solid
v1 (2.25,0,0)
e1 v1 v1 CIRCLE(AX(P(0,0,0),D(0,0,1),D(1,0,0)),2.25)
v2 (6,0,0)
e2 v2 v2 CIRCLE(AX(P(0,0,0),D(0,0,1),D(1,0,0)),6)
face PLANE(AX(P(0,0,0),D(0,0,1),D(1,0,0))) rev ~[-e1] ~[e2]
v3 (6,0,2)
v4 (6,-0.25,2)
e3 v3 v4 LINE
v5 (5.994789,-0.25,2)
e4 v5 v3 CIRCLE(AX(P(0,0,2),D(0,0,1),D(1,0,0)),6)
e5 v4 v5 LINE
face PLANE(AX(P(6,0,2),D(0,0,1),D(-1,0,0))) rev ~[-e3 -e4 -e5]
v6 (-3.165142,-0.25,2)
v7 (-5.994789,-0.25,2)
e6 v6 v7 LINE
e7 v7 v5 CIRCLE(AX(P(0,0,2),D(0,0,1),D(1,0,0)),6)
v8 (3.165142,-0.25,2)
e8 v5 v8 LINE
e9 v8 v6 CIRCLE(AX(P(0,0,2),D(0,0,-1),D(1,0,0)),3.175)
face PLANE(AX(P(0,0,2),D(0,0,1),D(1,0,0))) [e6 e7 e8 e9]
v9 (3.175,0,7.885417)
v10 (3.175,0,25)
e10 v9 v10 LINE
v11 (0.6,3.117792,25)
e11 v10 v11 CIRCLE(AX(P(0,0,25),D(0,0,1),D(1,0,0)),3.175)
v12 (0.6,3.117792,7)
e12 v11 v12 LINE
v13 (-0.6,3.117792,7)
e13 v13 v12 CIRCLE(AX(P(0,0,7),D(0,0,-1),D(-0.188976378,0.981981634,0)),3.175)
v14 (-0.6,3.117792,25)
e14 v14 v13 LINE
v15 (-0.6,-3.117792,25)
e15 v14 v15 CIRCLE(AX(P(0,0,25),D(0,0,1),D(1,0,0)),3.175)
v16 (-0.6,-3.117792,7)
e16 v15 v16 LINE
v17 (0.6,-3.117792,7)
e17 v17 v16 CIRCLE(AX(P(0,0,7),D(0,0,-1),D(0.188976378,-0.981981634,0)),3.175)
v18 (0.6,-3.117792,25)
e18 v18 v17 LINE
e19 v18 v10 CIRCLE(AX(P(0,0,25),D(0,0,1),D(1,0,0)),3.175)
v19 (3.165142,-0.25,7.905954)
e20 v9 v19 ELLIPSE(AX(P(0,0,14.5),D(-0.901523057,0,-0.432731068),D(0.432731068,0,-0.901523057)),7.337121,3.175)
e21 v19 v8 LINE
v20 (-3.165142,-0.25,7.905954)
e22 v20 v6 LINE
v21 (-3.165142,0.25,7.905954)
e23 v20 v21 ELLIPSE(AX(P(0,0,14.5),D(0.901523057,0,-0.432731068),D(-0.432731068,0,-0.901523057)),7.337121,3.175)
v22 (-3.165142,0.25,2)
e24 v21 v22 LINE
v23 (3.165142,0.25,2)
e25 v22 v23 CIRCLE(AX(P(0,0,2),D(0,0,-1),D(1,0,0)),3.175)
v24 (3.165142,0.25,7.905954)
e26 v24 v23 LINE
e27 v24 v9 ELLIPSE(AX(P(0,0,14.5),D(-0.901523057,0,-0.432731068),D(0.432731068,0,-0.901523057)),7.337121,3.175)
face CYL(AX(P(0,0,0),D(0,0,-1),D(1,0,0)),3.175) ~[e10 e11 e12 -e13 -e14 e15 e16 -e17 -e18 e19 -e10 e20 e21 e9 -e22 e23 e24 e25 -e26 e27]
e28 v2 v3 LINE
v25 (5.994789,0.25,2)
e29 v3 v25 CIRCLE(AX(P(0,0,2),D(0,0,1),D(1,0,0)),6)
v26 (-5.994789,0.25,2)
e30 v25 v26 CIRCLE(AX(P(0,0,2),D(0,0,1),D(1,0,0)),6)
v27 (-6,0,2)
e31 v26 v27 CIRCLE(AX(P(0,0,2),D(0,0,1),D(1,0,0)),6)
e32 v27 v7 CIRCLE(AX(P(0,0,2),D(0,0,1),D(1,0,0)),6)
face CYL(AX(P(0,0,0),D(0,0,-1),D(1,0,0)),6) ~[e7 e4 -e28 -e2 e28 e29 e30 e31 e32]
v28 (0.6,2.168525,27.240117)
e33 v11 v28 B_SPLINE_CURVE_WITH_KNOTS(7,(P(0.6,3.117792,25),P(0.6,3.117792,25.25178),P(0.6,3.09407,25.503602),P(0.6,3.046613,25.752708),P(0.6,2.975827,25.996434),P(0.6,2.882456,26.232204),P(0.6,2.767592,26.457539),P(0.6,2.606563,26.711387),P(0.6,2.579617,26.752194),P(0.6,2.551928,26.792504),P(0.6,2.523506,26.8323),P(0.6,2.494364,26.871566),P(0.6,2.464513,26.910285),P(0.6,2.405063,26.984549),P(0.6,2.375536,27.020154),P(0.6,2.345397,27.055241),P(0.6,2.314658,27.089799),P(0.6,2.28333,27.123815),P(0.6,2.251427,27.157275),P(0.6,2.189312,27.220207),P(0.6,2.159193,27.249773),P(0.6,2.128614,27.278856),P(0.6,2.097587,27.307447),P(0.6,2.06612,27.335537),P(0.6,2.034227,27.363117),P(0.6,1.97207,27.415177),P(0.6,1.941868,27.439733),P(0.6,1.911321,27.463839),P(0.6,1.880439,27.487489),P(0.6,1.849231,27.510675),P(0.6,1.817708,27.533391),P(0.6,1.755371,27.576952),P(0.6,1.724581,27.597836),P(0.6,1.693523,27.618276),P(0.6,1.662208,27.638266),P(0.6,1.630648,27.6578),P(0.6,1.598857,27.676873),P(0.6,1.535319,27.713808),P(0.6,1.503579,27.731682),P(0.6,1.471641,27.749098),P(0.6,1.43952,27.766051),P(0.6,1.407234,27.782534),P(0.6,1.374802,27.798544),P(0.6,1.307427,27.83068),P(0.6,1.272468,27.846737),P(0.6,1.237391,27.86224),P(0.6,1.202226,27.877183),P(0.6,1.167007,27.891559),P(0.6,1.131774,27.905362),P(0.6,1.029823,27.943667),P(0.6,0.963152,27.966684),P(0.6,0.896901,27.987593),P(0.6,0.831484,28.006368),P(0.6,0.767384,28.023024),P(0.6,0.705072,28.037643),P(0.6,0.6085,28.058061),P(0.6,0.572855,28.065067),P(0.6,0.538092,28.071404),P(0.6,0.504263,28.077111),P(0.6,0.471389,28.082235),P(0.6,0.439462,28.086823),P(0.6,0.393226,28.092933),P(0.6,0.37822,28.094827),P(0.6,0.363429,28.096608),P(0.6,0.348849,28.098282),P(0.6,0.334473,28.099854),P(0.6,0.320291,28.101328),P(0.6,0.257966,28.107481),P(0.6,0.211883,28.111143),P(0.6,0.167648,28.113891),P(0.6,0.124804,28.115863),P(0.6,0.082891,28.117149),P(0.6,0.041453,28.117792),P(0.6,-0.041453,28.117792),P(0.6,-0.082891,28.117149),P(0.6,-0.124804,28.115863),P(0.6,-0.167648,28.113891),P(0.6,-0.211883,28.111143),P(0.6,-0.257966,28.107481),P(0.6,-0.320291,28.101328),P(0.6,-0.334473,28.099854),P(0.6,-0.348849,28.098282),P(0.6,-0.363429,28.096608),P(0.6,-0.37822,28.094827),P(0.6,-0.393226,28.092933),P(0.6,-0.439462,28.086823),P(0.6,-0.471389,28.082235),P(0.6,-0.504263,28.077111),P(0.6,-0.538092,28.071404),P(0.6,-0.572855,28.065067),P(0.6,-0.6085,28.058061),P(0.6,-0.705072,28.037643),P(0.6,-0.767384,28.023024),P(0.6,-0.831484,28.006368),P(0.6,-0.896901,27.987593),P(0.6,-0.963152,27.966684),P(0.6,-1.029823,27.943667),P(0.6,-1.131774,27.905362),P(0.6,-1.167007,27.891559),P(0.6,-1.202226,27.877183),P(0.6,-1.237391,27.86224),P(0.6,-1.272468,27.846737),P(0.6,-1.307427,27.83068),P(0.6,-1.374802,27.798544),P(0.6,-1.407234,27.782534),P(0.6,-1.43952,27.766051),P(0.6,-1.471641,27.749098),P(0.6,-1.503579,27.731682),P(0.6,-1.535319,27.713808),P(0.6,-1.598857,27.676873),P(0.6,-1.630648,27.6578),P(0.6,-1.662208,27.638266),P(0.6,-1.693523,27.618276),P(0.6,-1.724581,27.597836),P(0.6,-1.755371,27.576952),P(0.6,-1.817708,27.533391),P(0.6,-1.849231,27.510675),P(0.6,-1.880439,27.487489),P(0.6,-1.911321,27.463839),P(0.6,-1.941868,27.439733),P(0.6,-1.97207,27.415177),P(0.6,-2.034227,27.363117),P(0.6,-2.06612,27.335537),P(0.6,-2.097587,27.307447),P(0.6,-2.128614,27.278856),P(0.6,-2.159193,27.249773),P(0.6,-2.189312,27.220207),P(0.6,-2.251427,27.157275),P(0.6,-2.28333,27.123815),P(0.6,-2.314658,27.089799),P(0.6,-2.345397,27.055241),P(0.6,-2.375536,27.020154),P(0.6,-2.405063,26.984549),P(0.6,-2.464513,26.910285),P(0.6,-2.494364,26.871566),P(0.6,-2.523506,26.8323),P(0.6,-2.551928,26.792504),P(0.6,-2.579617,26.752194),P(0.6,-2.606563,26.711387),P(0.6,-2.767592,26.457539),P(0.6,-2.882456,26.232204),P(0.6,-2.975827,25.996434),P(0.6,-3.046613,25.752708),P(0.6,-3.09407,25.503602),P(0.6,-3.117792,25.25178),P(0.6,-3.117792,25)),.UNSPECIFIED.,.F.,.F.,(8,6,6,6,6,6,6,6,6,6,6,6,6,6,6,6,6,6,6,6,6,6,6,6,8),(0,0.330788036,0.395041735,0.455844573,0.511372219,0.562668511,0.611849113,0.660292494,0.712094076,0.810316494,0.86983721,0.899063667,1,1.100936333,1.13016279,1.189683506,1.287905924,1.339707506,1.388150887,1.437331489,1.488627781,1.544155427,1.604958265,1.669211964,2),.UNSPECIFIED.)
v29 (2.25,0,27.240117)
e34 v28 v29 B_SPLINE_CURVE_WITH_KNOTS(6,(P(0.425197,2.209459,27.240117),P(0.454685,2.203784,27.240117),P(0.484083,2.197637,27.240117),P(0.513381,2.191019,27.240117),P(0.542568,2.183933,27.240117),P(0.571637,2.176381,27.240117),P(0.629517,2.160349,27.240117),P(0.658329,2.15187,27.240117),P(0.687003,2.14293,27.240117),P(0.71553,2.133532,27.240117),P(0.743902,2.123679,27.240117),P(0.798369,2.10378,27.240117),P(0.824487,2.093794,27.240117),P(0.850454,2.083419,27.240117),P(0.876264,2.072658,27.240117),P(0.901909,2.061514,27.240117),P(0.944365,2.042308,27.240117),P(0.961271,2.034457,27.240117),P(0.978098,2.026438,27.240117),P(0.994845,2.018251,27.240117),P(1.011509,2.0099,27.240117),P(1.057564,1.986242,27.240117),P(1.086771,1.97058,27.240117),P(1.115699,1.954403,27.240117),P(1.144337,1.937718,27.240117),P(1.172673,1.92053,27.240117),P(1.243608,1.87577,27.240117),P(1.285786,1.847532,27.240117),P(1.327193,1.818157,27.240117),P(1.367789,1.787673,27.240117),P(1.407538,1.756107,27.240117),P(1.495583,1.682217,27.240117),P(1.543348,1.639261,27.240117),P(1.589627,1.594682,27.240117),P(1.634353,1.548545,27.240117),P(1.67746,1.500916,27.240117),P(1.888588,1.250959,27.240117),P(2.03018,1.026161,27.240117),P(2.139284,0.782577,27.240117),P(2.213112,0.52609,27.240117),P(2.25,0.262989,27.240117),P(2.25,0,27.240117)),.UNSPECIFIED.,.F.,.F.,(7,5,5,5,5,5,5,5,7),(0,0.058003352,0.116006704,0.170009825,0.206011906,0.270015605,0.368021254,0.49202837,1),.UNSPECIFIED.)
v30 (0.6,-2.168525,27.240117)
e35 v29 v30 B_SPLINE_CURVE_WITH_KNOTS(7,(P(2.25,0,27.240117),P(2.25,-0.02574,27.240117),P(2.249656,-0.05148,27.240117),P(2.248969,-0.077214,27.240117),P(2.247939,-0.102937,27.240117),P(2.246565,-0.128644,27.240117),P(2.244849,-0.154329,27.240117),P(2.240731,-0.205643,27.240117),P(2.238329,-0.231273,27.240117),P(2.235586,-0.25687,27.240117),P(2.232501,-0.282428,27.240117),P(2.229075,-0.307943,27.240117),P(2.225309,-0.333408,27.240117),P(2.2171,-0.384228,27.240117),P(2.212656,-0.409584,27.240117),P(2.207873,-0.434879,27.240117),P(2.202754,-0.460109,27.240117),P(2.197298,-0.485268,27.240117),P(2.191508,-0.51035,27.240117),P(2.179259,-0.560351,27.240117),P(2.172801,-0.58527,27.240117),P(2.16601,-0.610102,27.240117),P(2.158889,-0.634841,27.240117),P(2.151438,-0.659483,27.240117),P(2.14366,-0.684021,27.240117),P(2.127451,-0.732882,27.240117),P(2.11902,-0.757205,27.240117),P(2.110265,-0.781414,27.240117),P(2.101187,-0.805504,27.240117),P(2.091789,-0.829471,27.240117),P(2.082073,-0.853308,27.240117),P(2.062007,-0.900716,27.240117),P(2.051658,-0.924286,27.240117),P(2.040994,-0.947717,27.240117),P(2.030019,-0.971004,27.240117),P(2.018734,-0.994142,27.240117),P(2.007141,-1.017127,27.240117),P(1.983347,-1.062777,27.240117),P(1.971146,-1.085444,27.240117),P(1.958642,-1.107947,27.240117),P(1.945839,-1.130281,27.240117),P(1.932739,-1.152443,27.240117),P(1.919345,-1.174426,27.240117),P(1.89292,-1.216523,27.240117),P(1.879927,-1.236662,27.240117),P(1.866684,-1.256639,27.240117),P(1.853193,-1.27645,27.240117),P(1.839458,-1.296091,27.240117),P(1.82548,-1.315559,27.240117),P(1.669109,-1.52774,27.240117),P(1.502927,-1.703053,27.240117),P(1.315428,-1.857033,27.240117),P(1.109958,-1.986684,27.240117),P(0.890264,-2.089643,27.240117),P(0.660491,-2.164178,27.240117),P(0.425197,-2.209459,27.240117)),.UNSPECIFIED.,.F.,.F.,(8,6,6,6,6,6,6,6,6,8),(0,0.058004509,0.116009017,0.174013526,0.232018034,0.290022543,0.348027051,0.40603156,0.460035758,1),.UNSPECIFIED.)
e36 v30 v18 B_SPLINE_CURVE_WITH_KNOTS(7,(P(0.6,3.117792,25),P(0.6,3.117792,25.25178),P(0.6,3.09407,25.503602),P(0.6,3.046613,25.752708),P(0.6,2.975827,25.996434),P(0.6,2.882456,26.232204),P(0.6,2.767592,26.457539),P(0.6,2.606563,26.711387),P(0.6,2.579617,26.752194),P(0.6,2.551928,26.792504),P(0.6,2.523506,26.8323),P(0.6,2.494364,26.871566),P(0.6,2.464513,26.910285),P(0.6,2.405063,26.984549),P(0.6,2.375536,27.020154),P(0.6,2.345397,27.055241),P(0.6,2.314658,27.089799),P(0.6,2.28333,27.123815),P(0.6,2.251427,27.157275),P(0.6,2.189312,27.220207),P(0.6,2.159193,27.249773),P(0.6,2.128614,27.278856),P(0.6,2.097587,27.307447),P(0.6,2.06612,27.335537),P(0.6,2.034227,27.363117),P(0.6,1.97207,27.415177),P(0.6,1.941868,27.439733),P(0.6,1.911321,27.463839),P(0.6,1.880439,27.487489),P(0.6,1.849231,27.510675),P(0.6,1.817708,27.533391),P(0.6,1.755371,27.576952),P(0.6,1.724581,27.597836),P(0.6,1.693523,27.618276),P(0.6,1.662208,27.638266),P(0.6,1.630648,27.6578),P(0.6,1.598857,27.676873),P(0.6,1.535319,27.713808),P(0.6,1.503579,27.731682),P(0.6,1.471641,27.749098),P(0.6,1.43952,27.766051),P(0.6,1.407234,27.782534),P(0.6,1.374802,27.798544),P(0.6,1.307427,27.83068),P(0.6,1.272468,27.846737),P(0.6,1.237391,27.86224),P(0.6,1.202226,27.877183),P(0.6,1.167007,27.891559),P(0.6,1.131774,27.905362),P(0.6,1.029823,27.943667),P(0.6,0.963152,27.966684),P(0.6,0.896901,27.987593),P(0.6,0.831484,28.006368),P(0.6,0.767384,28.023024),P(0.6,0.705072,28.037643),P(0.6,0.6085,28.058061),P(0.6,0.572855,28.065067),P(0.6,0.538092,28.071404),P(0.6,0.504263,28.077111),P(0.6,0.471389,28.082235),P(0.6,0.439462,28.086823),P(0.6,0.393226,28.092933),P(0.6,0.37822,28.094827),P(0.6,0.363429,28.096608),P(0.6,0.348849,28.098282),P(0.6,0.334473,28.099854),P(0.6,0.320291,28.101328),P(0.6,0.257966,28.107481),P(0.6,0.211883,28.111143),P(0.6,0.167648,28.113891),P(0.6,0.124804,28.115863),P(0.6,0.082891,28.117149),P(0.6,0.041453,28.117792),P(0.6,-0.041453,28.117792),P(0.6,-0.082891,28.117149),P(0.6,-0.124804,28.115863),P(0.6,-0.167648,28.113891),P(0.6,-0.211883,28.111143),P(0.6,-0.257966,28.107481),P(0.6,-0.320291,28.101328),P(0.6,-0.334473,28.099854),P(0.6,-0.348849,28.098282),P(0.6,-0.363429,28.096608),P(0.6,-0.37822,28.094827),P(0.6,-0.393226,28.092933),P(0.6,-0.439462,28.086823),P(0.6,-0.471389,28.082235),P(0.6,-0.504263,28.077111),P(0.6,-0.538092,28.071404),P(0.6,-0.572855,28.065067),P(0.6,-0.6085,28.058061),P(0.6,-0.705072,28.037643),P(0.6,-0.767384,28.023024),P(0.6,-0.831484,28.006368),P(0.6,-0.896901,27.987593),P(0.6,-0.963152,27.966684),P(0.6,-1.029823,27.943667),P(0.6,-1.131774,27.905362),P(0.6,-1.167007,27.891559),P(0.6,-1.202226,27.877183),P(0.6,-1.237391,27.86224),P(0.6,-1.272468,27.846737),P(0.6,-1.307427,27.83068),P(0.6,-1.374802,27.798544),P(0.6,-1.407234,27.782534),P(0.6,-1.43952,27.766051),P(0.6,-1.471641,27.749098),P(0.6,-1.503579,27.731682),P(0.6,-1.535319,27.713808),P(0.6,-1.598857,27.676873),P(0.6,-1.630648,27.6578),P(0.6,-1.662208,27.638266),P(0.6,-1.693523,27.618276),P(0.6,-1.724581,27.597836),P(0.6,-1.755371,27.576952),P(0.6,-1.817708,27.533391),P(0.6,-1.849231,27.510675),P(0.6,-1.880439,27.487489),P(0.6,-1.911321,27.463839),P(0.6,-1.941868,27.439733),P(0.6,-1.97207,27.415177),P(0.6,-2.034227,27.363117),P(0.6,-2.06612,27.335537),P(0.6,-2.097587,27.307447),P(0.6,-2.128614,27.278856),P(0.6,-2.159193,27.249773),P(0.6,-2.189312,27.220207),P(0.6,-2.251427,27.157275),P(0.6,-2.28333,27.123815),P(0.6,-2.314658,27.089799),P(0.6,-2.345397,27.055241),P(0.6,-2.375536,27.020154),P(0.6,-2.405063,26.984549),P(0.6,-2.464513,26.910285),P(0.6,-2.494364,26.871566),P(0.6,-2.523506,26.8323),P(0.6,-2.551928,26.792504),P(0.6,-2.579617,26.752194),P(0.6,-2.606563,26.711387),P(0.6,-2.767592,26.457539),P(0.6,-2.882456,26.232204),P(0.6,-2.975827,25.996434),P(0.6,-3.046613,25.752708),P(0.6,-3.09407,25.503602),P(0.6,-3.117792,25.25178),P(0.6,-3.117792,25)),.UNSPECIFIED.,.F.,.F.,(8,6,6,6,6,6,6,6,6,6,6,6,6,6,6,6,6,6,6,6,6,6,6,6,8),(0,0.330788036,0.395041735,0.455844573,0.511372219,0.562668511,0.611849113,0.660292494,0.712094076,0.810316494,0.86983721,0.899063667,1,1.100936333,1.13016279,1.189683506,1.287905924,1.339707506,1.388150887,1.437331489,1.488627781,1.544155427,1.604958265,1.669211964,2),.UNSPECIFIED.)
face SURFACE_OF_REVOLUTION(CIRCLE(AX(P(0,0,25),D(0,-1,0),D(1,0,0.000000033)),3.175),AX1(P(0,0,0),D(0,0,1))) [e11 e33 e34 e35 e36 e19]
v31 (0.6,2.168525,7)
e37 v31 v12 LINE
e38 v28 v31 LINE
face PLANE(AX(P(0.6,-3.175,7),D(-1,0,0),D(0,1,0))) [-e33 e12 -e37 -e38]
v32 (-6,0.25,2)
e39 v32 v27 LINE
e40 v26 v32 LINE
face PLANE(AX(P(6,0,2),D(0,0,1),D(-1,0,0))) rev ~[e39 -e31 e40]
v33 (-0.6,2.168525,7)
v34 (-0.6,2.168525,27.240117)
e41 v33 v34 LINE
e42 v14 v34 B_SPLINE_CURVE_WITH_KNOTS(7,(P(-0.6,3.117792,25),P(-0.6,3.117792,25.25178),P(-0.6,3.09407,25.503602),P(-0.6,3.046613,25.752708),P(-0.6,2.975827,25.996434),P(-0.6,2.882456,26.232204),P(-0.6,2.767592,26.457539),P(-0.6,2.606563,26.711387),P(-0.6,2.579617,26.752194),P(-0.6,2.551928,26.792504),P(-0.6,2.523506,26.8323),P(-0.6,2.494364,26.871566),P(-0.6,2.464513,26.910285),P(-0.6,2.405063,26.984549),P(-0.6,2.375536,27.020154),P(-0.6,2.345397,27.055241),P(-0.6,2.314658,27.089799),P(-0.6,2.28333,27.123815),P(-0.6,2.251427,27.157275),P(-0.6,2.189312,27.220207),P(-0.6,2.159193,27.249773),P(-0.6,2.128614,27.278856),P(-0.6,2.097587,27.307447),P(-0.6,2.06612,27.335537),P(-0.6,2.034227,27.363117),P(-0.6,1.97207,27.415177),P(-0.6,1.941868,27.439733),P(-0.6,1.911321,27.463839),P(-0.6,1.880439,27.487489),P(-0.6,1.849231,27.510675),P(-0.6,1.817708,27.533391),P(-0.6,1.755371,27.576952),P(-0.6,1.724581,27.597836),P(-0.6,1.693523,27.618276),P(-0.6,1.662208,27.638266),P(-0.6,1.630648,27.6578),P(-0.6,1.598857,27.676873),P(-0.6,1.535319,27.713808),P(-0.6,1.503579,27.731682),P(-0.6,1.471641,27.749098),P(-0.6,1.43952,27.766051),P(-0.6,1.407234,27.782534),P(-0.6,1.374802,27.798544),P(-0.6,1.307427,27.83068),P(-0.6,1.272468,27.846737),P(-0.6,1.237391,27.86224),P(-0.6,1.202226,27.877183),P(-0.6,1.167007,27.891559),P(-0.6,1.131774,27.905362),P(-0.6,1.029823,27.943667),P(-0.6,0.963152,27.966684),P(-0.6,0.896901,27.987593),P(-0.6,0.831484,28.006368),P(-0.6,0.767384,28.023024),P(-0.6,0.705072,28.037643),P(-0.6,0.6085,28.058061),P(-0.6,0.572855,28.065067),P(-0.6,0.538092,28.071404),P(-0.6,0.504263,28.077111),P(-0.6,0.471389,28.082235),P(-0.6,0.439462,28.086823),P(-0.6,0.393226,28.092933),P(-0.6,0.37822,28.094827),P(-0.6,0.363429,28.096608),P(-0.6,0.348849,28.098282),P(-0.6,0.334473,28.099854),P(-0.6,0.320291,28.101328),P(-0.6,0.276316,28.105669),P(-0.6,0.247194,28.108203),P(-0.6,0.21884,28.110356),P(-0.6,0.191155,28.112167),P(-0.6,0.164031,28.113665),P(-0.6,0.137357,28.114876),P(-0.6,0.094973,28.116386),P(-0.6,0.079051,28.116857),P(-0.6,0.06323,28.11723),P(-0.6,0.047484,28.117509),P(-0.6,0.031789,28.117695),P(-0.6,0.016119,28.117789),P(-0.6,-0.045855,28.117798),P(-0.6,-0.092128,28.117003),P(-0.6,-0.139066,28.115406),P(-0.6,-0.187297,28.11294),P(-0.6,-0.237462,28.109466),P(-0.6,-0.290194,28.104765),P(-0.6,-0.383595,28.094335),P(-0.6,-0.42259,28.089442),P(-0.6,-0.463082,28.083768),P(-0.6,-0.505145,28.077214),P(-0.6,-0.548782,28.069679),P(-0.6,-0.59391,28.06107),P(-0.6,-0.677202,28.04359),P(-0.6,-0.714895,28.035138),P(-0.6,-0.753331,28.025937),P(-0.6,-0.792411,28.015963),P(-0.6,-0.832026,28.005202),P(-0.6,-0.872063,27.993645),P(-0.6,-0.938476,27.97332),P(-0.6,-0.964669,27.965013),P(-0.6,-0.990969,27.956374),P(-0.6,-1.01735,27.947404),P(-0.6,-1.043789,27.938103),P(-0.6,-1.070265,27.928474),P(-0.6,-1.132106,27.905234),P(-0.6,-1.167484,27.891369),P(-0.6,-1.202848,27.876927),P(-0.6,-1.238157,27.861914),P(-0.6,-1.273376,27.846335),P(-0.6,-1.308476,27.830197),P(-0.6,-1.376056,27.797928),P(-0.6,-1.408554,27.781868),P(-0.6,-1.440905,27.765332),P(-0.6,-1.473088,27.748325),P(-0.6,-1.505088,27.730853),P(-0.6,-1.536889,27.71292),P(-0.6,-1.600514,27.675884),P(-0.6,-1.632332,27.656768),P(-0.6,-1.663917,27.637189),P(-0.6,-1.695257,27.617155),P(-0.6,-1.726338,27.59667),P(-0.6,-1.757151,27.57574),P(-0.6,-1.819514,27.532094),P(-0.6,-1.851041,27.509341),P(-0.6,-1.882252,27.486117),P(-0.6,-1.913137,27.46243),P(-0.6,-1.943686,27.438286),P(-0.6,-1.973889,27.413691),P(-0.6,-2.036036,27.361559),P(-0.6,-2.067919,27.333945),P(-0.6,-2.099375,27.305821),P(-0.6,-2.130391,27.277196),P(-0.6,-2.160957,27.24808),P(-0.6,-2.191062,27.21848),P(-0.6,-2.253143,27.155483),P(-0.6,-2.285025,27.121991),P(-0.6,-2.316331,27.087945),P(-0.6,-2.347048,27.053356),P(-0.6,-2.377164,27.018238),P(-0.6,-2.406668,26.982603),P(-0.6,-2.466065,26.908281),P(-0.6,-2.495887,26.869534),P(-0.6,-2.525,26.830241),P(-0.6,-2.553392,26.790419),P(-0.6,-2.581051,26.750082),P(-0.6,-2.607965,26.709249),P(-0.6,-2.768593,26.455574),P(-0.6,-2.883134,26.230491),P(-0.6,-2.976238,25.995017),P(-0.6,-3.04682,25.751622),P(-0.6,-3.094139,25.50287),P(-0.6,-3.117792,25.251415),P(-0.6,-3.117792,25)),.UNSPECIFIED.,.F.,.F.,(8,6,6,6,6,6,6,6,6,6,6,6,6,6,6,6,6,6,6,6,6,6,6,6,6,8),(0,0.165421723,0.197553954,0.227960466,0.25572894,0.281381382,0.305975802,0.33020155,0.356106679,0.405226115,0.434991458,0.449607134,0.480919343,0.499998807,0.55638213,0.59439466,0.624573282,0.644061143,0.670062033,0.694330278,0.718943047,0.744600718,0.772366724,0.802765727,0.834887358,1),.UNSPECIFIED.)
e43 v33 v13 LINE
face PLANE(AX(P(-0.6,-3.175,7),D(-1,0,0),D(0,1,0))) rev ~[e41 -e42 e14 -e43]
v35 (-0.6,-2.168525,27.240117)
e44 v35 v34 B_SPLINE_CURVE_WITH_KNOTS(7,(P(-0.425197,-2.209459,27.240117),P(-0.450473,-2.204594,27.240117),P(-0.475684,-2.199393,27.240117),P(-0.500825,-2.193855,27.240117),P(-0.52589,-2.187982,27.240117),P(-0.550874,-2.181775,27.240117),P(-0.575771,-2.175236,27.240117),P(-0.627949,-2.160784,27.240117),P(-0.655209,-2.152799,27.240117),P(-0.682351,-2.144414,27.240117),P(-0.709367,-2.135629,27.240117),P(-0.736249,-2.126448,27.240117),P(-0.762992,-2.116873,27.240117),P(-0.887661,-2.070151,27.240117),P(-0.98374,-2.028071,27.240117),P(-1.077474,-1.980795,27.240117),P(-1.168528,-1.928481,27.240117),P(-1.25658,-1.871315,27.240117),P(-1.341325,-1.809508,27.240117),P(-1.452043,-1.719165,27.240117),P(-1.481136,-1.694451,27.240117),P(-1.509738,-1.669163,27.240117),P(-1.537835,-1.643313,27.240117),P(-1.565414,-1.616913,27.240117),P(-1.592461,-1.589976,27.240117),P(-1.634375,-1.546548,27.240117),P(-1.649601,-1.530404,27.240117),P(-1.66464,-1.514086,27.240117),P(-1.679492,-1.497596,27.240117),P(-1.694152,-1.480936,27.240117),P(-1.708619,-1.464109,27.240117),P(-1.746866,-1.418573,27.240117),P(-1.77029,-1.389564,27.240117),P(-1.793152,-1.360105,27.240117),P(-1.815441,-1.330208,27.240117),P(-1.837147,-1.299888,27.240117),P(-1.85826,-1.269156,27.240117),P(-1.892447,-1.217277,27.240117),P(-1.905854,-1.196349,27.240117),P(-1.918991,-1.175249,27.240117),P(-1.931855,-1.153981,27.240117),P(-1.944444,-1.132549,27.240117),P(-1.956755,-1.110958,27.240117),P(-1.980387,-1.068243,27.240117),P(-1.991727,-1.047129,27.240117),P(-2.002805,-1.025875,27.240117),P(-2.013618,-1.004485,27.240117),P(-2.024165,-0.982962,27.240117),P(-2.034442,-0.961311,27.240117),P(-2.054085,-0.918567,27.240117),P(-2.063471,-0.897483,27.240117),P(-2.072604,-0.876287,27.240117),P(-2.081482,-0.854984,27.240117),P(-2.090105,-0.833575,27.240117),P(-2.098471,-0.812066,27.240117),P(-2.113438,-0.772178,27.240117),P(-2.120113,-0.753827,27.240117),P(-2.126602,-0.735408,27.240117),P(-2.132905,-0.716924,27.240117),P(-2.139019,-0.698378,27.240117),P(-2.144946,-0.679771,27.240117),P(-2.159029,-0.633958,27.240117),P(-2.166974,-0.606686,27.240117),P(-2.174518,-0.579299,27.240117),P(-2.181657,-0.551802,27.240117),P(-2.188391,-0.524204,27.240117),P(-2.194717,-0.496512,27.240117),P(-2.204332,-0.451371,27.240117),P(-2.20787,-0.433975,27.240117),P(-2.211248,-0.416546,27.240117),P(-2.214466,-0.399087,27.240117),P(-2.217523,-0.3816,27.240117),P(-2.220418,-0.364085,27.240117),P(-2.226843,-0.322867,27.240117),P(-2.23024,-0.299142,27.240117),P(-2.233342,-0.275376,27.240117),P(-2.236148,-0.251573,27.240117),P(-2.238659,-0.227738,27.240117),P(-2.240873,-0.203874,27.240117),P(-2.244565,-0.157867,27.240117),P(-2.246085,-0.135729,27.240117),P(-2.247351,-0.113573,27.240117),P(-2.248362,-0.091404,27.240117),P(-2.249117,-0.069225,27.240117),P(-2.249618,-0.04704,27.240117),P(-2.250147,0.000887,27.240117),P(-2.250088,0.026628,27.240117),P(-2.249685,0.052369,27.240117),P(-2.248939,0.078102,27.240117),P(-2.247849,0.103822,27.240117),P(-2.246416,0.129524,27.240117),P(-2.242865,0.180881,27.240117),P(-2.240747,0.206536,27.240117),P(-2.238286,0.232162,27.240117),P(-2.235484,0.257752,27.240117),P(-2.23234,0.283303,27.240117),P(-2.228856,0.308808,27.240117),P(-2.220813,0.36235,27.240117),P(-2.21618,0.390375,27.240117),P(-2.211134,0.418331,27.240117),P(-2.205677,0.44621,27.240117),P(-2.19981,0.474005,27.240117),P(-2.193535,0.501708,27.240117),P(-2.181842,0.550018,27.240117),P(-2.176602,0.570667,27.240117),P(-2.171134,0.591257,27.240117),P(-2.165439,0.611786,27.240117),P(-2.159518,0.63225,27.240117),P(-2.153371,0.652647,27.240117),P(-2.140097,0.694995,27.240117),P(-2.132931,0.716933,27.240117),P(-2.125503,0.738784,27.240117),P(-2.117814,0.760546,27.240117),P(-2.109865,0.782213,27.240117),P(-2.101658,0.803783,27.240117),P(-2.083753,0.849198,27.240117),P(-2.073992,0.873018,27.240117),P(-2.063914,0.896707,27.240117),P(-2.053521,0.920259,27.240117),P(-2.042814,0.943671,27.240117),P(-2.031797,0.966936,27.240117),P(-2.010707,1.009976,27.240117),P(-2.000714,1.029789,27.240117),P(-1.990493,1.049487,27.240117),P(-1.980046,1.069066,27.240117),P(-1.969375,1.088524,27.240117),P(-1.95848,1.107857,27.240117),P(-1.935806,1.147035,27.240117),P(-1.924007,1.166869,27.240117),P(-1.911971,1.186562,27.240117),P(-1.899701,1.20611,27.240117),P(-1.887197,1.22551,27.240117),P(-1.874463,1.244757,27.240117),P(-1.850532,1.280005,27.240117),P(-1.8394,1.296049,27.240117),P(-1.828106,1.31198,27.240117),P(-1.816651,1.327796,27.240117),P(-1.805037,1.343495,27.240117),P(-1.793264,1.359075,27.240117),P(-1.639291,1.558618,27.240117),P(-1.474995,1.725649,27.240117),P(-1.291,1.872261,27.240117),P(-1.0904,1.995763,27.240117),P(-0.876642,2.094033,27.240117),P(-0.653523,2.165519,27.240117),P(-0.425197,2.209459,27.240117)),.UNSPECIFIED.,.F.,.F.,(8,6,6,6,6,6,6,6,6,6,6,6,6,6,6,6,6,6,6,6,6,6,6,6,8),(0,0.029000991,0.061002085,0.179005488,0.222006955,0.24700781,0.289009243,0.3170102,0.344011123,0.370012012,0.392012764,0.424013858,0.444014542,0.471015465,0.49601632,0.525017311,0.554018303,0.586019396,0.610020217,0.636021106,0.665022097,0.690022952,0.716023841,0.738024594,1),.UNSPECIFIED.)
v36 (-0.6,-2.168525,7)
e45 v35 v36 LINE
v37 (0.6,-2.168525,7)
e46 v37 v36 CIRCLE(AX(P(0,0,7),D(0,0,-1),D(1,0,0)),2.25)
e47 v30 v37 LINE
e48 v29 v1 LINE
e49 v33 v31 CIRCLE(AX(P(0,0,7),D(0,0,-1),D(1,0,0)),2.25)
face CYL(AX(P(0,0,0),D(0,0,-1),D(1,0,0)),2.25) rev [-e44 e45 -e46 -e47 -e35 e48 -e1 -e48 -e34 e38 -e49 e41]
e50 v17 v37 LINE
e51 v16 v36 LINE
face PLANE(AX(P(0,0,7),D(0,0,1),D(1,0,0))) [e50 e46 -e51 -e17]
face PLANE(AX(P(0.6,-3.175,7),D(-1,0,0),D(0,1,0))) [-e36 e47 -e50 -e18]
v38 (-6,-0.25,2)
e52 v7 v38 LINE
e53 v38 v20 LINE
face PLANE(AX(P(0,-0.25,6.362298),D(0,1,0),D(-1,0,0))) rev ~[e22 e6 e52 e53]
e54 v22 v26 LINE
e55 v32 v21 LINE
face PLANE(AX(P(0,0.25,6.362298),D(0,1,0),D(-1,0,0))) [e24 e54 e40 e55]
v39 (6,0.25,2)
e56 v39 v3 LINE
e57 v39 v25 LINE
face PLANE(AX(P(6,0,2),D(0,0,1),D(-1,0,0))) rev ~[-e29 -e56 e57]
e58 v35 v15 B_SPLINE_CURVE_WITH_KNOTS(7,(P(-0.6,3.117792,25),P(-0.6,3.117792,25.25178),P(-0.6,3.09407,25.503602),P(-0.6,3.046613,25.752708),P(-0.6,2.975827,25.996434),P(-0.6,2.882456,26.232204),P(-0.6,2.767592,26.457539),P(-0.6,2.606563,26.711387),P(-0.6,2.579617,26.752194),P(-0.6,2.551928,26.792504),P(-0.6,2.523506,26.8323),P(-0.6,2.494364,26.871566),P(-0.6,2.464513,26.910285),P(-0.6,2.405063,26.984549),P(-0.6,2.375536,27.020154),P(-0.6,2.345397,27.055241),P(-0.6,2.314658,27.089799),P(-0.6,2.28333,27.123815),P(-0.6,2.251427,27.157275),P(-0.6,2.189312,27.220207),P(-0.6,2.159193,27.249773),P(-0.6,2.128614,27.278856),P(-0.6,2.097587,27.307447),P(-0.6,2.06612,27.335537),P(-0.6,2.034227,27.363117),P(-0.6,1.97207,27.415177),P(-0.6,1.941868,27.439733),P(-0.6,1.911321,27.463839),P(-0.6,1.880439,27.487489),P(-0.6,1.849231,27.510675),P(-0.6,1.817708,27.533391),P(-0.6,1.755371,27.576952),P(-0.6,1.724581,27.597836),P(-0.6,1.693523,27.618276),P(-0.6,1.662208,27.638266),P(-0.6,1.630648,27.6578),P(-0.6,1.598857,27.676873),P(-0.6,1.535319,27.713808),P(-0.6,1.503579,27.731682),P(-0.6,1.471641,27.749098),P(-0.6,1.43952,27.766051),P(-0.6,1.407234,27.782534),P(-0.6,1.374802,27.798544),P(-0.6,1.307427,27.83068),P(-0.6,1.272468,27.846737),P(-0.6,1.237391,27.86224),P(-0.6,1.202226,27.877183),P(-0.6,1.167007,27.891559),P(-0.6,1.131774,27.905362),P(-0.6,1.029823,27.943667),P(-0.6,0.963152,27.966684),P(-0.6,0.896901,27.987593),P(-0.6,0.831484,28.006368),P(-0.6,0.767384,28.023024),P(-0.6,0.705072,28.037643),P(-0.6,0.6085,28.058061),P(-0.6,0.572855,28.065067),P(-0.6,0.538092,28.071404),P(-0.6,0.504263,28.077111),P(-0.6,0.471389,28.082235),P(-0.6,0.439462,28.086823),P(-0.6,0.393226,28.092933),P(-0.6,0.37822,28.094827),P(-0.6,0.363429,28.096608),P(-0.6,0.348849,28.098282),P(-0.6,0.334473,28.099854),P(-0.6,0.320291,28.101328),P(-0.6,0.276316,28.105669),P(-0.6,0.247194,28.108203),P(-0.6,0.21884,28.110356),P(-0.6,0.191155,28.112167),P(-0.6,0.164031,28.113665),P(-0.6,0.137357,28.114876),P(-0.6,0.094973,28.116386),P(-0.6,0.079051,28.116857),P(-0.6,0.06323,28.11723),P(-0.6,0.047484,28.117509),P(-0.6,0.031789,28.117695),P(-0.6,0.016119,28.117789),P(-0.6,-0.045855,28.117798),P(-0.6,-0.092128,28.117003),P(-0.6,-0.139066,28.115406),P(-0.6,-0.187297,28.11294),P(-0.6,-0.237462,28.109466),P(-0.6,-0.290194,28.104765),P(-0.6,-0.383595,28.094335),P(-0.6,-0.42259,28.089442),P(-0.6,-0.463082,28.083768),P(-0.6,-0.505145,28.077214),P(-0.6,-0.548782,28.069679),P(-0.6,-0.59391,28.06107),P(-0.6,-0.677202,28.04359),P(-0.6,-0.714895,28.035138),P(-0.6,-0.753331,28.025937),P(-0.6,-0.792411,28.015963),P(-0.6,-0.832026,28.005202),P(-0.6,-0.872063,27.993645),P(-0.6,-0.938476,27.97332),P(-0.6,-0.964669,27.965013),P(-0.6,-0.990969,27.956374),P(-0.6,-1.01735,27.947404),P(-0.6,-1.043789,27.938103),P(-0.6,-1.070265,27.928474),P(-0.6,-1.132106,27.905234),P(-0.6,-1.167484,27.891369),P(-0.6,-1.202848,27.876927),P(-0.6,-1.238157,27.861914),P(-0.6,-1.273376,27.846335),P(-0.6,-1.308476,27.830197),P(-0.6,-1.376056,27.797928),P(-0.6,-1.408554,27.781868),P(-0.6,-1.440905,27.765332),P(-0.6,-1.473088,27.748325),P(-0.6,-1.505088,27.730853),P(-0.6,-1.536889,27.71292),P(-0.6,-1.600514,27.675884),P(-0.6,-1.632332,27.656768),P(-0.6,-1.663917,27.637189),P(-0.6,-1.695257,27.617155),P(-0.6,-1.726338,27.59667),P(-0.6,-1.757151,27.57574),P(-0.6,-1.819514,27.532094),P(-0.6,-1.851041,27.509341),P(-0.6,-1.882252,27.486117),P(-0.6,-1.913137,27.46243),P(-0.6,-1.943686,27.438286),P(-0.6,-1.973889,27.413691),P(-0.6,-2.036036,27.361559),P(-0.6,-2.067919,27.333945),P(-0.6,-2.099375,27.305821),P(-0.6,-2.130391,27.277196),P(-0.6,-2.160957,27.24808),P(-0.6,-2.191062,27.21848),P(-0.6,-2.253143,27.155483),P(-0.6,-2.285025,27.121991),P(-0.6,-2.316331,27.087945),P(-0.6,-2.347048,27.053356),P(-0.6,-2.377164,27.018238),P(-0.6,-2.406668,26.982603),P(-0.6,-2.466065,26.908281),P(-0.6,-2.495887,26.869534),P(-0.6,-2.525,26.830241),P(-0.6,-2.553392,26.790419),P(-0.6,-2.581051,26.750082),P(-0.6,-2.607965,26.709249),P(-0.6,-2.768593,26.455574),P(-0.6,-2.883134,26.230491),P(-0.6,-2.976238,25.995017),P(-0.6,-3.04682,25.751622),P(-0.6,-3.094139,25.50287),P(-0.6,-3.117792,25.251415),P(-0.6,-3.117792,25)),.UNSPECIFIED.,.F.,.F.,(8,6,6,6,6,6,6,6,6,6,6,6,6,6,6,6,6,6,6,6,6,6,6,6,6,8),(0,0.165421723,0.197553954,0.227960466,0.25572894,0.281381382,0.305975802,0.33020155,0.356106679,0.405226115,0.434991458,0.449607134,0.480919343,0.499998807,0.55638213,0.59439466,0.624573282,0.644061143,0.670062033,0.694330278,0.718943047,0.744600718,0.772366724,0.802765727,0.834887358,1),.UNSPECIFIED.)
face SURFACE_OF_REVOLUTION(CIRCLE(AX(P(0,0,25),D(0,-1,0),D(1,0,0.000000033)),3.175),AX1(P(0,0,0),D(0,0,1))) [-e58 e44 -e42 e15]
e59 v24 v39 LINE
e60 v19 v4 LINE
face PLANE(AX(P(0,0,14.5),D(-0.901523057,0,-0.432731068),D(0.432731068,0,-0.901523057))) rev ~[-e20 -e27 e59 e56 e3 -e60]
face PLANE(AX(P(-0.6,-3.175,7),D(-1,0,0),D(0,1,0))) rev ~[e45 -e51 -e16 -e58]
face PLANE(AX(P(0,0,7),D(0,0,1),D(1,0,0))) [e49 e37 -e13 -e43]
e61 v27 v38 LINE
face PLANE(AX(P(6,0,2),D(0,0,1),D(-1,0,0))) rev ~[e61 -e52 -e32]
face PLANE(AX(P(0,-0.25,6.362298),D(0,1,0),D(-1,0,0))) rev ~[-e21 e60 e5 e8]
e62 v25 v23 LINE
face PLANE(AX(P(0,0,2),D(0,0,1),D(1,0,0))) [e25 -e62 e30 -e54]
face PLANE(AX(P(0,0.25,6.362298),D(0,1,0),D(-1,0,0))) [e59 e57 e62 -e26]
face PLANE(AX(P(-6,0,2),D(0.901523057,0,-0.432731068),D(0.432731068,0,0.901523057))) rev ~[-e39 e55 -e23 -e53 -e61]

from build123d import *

# Parameters (mm, degrees)
SKETCH001_R     = 6
PAD_DEPTH       = 2
SKETCH_R        = 3.175
SKETCH_R_2      = 2.25
PAD001_DEPTH    = 25
PAD002_DEPTH    = 0.25
SKETCH005_W     = 1.2
SKETCH005_H     = 6.35
POCKET_DEPTH    = 21.176
SKETCH006_R     = 2.25
POCKET001_DEPTH = 28.118792


with BuildPart() as part:
    # Sketch001 → Pad (new body)
    with BuildSketch(Plane.XY):
        Circle(SKETCH001_R)
    extrude(amount=PAD_DEPTH)

    # Sketch → Pad001 (join)
    with BuildSketch(Plane.XY):
        Circle(SKETCH_R)
        Circle(SKETCH_R_2, mode=Mode.SUBTRACT)
    extrude(amount=PAD001_DEPTH)

    # Sketch002 → Pad002 (join, symmetric)
    with BuildSketch(Plane.XZ):
        Polygon((-6, 2), (0, 14.5), (6, 2), align=None)
    extrude(amount=PAD002_DEPTH, both=True)

    # Sketch004 → Revolution (revolve)
    with BuildSketch(Plane.XZ):
        with BuildLine():
            ThreePointArc((3.175, 25), (2.245064, 27.245064), (0, 28.175))
            Line((0, 25), (0, 28.175))
            Line((0, 25), (3.175, 25))
        make_face()
    revolve(axis=Axis((0, 0, 0), (0, 0, 1)))

    # Sketch005 → Pocket (cut, through all)
    with BuildSketch(Plane.XY.offset(7)):
        Rectangle(SKETCH005_W, SKETCH005_H)
    extrude(amount=POCKET_DEPTH, mode=Mode.SUBTRACT)

    # Sketch006 → Pocket001 (cut, through all)
    with BuildSketch(Plane.XY):
        Circle(SKETCH006_R)
    extrude(amount=POCKET001_DEPTH, mode=Mode.SUBTRACT)


solid = part.part
